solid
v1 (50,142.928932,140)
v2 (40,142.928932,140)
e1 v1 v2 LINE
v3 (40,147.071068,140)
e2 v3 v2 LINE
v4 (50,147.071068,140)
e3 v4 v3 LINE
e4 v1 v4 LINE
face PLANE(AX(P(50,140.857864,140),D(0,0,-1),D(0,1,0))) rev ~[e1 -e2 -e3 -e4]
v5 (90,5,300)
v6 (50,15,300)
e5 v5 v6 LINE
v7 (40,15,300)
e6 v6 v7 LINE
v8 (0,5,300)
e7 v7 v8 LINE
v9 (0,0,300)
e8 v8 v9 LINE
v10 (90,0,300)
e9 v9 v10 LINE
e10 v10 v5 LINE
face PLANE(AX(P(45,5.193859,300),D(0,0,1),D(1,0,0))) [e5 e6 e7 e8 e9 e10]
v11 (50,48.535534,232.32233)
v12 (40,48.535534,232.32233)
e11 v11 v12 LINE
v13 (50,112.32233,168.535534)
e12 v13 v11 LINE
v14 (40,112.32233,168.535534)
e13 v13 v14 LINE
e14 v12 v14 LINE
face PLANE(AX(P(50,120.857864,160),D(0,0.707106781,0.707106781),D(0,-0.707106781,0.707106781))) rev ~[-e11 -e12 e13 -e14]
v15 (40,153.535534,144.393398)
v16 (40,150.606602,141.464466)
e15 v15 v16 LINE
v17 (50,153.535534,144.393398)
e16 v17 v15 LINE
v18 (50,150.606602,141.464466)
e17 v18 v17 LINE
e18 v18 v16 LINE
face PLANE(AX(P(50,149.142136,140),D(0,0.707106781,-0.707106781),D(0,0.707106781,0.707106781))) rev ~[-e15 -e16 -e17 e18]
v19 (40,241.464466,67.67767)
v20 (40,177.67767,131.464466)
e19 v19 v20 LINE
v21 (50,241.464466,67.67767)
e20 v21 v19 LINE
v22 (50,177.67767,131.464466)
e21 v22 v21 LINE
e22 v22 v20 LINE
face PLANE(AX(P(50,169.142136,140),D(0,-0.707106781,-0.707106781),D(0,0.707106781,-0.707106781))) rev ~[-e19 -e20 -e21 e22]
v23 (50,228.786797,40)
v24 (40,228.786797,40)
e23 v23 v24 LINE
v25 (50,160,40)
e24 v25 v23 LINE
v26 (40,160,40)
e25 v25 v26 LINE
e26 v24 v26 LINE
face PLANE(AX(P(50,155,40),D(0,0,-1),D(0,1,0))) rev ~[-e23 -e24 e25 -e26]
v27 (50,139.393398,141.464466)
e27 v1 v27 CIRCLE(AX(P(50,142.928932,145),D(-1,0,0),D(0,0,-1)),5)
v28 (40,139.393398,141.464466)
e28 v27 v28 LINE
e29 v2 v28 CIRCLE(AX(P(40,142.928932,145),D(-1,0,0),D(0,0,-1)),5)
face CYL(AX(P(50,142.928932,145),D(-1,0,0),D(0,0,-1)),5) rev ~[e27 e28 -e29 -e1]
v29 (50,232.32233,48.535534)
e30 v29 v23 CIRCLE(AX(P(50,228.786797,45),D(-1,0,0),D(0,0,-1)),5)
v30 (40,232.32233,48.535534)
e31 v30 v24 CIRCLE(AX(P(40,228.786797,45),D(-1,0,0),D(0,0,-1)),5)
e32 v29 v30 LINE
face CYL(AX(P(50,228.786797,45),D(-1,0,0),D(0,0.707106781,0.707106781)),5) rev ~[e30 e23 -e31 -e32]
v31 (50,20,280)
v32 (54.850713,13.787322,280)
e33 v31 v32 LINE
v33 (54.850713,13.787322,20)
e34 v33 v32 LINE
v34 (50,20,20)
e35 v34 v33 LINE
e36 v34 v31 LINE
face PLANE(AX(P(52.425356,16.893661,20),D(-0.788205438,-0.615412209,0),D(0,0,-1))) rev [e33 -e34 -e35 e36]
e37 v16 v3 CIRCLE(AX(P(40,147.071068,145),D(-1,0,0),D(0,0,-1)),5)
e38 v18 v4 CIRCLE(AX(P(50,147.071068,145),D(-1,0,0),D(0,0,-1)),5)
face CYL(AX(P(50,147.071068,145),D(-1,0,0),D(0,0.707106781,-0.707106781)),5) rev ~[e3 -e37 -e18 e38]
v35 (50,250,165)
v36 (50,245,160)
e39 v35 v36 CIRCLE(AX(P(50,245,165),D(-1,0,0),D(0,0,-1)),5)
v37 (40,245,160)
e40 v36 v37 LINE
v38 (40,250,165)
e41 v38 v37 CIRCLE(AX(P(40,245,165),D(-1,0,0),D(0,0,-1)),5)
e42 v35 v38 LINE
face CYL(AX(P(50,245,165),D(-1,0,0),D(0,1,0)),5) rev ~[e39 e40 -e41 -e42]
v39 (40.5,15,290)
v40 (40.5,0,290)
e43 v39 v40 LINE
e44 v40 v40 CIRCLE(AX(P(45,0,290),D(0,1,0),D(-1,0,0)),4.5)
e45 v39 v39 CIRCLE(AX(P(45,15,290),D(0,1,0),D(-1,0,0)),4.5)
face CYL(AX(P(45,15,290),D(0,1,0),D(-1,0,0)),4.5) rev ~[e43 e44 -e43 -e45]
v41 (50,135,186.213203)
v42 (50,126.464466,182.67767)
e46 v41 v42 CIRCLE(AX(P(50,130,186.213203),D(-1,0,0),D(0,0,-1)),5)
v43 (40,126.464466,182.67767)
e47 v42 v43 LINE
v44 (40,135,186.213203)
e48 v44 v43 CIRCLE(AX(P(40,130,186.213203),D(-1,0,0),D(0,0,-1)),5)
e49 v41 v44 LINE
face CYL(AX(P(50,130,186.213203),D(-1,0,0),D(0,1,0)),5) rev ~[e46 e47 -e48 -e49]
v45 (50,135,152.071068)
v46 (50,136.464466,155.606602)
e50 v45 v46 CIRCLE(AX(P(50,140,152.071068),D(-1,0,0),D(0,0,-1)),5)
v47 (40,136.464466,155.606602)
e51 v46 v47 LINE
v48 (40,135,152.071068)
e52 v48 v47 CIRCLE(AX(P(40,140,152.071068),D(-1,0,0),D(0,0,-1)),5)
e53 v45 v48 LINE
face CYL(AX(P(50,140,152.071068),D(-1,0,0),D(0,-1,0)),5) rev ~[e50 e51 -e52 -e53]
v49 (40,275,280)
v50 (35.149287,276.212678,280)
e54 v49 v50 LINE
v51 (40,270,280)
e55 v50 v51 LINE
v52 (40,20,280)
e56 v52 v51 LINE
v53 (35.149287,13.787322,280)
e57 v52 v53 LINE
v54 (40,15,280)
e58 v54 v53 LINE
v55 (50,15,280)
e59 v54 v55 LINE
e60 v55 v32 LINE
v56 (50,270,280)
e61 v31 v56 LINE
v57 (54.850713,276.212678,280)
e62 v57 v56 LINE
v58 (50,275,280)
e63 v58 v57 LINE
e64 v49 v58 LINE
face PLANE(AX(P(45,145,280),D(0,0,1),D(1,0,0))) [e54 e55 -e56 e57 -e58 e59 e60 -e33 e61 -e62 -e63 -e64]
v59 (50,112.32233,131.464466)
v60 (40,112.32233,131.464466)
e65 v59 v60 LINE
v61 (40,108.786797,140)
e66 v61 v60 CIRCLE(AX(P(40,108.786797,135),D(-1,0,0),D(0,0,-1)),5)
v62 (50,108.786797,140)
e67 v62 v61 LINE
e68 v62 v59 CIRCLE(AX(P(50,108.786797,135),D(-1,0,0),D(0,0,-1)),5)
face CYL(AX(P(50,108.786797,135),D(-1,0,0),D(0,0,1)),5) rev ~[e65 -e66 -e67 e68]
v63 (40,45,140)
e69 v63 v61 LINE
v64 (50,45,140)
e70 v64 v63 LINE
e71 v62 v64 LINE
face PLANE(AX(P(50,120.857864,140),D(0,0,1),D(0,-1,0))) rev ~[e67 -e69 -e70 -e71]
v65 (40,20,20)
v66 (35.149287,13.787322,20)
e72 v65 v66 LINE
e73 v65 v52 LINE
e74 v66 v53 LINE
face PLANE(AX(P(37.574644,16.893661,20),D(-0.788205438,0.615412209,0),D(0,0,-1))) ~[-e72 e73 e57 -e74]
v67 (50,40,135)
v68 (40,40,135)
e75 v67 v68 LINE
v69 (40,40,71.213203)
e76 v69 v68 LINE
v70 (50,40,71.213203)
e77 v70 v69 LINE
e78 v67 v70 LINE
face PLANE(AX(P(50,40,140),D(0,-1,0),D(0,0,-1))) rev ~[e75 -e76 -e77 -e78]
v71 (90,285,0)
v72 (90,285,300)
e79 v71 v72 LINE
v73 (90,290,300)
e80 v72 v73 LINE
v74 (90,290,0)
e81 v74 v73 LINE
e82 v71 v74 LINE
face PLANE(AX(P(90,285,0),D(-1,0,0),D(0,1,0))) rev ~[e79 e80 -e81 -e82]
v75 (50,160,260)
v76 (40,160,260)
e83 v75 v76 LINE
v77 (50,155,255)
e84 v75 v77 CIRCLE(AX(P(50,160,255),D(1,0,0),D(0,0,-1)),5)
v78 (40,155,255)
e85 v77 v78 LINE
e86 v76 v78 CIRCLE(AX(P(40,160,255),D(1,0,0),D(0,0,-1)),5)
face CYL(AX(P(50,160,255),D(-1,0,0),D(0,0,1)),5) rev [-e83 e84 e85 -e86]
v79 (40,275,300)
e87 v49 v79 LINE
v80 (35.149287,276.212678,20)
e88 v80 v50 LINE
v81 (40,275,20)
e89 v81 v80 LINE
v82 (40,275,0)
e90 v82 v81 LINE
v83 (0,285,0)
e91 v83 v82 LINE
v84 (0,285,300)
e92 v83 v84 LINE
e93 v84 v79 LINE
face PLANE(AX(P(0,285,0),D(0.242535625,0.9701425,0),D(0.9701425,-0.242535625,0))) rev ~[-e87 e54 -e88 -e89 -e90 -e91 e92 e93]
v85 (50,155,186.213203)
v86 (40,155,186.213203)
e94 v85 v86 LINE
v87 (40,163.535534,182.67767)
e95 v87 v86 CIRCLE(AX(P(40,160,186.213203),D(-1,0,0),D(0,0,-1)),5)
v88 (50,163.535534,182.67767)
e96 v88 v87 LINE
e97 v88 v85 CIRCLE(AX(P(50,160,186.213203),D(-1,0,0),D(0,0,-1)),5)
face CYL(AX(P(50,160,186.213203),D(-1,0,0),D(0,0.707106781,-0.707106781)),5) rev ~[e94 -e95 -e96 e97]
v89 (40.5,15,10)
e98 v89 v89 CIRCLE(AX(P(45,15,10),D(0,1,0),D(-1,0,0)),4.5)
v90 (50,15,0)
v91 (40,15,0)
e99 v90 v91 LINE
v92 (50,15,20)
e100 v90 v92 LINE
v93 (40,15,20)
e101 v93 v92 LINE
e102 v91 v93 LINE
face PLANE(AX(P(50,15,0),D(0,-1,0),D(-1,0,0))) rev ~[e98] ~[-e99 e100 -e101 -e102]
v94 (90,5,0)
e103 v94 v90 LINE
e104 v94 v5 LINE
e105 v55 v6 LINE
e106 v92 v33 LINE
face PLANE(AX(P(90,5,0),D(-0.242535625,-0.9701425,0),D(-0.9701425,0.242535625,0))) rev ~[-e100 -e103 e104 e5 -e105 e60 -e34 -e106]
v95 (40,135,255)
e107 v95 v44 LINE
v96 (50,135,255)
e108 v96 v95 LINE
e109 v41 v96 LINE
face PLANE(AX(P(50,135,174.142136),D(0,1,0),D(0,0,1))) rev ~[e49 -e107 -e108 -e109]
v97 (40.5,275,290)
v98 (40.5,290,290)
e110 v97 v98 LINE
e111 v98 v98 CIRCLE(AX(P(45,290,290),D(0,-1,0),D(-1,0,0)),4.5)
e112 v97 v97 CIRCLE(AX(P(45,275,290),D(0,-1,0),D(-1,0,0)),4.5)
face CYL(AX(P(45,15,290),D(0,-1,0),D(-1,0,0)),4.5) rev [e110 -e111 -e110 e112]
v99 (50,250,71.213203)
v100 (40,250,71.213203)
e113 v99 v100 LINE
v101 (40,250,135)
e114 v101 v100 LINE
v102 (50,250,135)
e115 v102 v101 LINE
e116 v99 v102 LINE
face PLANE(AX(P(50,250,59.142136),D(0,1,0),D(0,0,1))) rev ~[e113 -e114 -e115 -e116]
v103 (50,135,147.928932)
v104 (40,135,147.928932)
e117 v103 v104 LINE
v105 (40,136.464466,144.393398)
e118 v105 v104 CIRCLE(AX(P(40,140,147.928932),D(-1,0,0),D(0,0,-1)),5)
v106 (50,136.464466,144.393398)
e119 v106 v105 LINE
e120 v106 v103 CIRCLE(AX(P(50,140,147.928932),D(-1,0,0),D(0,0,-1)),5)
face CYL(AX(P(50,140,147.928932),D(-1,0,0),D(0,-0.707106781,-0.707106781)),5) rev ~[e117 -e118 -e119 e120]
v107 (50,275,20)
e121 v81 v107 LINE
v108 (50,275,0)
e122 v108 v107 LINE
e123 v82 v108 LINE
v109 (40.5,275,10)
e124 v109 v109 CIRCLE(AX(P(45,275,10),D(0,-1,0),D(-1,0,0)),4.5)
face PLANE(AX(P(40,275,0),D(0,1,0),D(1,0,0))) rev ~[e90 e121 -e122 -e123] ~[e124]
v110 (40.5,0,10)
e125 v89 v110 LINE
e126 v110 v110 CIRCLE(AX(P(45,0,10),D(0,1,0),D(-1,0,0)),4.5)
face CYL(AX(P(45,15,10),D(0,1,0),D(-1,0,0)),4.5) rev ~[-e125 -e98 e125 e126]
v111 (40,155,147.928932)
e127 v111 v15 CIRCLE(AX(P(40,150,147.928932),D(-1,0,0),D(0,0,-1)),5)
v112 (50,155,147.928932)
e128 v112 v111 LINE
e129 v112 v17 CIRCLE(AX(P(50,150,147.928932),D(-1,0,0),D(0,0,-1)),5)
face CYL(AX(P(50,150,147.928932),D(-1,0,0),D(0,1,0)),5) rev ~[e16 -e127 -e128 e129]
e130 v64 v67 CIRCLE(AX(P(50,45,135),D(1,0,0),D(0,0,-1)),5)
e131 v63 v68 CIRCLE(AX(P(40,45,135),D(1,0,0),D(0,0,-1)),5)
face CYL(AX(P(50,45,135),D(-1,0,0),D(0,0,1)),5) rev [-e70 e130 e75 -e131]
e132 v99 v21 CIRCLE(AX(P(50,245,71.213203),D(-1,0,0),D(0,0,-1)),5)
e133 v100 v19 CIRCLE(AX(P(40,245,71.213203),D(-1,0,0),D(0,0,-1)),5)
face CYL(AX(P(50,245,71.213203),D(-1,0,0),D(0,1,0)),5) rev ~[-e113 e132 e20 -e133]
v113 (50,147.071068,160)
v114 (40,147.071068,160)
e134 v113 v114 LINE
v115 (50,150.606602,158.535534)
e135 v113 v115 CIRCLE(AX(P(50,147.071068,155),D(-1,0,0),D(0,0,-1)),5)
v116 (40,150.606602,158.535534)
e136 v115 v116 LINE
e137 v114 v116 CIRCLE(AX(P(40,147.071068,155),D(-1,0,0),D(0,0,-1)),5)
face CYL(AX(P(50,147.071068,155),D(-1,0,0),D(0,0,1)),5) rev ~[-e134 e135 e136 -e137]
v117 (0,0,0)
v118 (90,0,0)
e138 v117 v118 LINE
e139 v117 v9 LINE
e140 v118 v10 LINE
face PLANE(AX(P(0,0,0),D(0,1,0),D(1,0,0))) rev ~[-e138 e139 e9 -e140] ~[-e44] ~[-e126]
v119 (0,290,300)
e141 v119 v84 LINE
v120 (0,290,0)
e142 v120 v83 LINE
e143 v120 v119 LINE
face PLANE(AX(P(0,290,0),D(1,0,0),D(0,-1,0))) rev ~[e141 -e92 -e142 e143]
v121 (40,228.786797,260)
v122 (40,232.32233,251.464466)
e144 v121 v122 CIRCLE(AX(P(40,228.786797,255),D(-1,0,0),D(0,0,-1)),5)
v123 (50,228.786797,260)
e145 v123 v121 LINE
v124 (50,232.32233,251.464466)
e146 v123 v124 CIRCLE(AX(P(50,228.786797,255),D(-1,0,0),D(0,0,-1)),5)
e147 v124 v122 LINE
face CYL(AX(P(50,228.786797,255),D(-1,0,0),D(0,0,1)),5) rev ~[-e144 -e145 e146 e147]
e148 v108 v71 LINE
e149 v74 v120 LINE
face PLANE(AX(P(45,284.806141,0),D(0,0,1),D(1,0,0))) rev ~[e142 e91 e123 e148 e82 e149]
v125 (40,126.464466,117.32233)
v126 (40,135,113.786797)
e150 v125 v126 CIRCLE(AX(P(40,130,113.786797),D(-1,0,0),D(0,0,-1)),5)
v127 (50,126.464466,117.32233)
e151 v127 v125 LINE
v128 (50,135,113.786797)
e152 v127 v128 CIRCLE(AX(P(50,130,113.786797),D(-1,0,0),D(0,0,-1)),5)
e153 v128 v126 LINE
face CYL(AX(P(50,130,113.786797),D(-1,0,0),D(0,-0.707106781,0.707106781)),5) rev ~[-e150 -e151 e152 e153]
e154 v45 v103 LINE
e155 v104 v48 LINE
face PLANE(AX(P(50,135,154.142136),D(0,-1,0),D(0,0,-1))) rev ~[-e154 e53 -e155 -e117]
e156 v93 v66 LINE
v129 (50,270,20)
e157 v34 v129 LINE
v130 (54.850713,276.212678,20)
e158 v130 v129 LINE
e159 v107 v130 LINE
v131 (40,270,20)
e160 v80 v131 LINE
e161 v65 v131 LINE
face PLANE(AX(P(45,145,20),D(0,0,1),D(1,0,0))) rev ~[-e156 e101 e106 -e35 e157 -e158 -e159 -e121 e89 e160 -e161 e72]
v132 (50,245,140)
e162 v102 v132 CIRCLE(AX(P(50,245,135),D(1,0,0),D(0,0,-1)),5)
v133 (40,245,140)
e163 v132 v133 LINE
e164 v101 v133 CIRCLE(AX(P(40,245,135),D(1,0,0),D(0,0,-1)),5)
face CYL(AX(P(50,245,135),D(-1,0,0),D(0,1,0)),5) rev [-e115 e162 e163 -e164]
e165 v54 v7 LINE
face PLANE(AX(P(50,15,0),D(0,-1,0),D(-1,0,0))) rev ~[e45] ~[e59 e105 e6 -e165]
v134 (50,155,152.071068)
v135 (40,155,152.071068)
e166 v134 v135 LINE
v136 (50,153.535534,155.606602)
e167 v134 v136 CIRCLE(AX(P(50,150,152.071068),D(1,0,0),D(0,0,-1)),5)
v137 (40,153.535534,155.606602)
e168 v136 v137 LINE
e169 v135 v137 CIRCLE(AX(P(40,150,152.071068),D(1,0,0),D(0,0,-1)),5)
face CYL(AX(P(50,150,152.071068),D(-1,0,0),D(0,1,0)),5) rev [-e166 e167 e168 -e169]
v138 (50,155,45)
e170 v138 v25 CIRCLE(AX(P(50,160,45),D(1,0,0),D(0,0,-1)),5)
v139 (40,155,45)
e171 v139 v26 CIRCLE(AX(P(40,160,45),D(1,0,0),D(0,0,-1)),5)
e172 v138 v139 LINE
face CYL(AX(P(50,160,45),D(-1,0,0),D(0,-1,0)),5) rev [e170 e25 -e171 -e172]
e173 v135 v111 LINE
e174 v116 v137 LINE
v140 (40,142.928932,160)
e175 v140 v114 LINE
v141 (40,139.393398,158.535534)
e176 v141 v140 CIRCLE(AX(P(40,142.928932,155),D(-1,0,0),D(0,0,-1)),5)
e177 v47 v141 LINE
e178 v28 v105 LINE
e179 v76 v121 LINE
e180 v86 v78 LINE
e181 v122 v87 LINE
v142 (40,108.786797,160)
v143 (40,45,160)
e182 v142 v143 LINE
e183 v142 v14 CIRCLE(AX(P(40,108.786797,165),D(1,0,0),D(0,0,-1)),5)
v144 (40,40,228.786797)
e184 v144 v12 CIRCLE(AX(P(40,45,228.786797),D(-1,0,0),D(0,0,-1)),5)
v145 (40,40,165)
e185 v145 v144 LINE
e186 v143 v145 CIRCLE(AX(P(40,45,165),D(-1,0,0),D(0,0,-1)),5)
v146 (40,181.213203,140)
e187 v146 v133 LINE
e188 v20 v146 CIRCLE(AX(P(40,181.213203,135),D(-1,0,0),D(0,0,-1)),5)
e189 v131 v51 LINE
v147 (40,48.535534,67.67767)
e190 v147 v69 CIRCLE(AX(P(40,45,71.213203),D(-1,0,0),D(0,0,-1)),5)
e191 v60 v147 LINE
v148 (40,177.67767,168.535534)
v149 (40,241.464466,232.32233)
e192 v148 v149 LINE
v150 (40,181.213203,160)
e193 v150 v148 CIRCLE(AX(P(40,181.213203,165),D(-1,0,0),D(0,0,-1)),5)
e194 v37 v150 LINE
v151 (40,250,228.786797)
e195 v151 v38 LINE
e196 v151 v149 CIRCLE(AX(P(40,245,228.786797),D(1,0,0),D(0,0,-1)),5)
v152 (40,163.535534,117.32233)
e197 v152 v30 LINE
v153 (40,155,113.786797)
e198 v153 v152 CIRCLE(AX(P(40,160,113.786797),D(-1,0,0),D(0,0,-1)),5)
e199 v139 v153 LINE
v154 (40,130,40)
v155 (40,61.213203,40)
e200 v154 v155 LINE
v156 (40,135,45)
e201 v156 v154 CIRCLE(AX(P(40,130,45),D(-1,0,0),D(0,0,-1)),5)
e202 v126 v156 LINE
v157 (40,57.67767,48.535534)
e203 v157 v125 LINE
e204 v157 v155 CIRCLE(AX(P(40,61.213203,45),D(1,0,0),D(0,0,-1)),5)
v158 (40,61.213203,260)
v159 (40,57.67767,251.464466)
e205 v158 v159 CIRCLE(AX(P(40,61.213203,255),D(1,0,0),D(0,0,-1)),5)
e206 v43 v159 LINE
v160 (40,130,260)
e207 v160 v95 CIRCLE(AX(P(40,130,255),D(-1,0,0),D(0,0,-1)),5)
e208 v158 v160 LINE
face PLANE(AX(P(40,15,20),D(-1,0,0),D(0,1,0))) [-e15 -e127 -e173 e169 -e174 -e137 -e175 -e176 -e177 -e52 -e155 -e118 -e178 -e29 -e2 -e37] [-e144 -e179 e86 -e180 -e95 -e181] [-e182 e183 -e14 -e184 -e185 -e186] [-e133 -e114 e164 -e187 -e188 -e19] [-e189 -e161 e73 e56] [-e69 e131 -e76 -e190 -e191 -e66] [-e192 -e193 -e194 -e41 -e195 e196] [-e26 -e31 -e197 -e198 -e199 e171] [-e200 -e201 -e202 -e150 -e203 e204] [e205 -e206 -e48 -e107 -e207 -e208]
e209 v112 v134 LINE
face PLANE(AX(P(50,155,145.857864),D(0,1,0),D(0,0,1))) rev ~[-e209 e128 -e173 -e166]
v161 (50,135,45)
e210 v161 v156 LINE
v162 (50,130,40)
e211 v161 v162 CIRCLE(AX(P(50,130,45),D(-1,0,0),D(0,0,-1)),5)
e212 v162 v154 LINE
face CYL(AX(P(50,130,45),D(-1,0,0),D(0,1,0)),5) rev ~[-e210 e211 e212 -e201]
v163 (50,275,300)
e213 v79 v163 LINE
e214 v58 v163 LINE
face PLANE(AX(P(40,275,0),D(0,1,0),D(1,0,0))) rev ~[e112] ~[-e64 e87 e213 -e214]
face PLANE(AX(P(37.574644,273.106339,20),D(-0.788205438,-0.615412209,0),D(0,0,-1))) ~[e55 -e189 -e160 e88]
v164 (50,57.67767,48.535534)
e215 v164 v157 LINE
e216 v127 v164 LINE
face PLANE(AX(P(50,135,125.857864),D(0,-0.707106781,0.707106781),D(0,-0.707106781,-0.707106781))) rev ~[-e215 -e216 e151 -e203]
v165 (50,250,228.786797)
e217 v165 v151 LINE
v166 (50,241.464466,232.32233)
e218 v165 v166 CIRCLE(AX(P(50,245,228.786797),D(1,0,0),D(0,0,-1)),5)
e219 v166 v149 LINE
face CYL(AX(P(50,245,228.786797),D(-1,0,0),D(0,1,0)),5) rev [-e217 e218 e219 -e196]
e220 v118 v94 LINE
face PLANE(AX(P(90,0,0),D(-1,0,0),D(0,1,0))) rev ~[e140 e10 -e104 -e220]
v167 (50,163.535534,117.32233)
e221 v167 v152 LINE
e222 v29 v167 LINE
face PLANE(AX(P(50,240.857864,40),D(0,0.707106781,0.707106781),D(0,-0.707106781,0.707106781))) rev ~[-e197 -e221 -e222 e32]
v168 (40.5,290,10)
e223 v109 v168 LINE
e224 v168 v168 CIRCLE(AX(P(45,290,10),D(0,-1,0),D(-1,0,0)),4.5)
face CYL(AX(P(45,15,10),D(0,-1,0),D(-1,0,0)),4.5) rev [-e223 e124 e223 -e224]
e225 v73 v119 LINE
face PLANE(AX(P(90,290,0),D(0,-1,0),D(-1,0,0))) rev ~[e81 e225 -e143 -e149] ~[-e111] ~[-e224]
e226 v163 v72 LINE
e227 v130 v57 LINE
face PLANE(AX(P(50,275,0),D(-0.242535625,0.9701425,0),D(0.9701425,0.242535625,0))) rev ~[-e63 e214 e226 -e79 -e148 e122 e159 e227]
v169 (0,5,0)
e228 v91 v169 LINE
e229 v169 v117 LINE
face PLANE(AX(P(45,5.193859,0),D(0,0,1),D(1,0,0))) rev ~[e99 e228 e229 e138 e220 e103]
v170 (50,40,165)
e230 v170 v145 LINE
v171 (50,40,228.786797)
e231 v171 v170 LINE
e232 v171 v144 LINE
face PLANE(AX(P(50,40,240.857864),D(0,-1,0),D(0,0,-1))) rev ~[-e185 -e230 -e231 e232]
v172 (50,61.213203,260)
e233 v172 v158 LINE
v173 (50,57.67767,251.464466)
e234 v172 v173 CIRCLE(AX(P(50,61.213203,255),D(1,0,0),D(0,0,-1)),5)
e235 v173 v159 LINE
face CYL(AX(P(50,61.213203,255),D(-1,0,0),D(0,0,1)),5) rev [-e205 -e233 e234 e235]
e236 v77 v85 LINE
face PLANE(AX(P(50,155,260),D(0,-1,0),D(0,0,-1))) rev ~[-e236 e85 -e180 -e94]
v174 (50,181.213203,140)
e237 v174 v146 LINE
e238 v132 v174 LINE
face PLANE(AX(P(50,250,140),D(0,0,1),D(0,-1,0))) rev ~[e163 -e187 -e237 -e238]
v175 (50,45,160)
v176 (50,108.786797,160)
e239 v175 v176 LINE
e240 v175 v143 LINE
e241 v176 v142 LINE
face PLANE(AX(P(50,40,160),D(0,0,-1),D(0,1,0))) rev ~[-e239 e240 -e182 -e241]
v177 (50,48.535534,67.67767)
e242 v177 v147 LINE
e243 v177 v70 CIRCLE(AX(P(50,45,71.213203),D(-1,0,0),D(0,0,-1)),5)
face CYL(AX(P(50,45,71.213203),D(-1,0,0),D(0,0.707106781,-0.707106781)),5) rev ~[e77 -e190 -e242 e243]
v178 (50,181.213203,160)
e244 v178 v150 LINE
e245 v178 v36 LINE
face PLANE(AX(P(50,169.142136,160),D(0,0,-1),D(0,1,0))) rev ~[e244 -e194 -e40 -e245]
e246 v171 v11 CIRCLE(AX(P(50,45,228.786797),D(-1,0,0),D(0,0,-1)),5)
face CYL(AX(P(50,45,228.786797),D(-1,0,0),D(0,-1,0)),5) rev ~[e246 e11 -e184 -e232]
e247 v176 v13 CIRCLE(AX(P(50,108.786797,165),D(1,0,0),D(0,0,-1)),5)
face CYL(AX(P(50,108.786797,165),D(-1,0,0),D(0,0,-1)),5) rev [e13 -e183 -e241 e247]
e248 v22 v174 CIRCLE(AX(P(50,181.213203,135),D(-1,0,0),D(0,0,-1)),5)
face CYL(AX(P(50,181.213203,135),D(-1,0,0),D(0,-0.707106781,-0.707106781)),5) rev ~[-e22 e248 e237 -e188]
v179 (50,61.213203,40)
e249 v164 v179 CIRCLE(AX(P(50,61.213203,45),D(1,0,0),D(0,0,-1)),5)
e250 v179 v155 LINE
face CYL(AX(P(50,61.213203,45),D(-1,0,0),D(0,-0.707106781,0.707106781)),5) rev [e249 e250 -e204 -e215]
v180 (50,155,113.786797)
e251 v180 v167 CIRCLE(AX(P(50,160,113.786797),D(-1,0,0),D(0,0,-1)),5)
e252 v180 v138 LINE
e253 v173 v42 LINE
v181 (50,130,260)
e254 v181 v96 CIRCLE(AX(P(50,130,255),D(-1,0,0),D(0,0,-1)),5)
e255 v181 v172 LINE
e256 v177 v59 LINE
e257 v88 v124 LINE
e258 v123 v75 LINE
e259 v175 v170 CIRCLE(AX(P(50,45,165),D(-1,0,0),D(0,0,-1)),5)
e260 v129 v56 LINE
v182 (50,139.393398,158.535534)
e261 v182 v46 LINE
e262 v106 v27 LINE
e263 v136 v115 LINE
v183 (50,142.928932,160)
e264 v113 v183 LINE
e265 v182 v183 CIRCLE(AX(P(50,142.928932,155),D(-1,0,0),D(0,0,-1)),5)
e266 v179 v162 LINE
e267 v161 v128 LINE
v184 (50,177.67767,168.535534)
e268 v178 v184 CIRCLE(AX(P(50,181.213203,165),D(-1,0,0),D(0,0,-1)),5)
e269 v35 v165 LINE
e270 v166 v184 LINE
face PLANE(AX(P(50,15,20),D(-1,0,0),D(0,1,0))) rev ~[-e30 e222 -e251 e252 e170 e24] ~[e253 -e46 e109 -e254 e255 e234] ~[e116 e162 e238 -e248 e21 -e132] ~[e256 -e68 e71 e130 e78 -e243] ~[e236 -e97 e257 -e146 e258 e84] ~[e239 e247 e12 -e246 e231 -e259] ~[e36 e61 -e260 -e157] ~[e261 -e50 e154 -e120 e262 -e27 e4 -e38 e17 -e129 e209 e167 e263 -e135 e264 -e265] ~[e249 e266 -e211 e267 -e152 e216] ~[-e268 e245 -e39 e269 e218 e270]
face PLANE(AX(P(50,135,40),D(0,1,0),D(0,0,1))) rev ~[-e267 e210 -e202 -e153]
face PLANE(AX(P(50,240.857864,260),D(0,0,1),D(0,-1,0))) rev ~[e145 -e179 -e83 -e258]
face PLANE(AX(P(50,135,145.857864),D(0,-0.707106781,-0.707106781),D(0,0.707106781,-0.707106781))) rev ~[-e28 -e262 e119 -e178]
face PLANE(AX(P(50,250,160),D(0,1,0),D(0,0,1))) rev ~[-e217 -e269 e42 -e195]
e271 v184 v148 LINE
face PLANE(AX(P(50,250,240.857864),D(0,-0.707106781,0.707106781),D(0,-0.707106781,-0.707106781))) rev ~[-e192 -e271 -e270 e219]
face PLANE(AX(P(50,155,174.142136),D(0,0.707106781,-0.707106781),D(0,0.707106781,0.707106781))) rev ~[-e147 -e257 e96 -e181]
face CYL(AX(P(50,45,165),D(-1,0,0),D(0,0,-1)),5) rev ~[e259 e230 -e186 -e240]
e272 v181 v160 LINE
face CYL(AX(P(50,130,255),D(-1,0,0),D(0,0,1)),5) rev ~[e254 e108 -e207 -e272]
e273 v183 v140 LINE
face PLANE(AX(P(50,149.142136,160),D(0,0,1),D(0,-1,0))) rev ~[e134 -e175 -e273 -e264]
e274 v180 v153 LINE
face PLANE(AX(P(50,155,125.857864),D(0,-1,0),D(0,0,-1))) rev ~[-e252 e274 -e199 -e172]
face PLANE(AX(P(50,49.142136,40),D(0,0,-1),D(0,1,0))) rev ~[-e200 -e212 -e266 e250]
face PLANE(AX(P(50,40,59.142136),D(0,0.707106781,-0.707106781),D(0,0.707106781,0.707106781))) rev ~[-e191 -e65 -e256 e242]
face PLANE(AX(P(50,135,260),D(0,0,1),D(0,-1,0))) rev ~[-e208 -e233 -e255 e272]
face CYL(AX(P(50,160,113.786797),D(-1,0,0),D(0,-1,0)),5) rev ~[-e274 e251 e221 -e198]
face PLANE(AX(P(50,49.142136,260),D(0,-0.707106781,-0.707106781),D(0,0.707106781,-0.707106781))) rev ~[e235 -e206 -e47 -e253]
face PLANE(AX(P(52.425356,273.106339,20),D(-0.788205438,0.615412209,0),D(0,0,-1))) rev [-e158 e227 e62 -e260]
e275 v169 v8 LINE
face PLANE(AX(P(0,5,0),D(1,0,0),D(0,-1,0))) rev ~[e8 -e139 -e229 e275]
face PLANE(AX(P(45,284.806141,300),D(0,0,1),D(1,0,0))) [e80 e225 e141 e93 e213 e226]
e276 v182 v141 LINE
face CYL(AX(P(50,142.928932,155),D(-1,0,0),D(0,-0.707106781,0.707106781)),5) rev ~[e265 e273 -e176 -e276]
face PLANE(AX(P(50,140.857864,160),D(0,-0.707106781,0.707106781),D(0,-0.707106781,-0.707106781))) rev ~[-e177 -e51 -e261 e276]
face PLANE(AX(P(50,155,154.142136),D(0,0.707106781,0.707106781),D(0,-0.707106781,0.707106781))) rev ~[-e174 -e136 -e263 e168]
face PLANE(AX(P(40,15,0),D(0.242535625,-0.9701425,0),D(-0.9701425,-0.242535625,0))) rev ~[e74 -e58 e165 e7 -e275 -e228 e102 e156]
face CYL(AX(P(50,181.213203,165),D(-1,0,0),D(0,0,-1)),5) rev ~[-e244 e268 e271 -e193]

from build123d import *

# Parameters (mm, degrees)
F1_START      = 20
F0_W          = 10
F0_H          = 260
F1_DEPTH      = 260
F2_DEPTH      = 300
F3_R          = 4.5
F4_DEPTH      = 15.001
F4_DEPTH_BACK = 275.001
F5_SIZE       = 5
F7_DEPTH      = 50.001
F8_R          = 5


with BuildPart() as f1:
    # F0 (on Top) → F1 (new body)
    with BuildSketch(Plane.XY.offset(F1_START)):
        with Locations((45, 145)):
            Rectangle(F0_W, F0_H)
    extrude(amount=F1_DEPTH)

    # F0 (on Top) → F2 (join)
    with BuildSketch(Plane.XY):
        Polygon((45, 290), (0, 290), (0, 285), (40, 275), (50, 275), (90, 285), (90, 290), align=None)
        Polygon((50, 15), (40, 15), (0, 5), (0, 0), (45, 0), (90, 0), (90, 5), align=None)
    extrude(amount=F2_DEPTH)

    # F3 (on face) → F4 (cut, two sides)
    with BuildSketch(Plane(origin=(0, 15, 0), x_dir=(-1, 0, 0), z_dir=(0, 1, 0))) as f4_sk:
        with Locations((-45, 290)):
            Circle(F3_R)
        with Locations((-45, 10)):
            Circle(F3_R)
    extrude(amount=-F4_DEPTH, mode=Mode.SUBTRACT)
    extrude(f4_sk.sketch, amount=F4_DEPTH_BACK, mode=Mode.SUBTRACT)

    # F5
    f5_edges = [f1.edges().sort_by_distance(p)[0] for p in [
        (50, 275, 150),
        (40, 275, 150),
        (40, 15, 150),
        (50, 15, 150),
    ]]
    chamfer(f5_edges, length=F5_SIZE)

    # F6 (on face) → F7 (cut, through all)
    with BuildSketch(Plane.YZ.offset(50)):
        Polygon((135, 260), (49.1421356237, 260), (135, 174.1421356237), align=None)
        Polygon((240.8578643763, 260), (155, 260), (155, 174.1421356237), align=None)
        Polygon((250, 160), (250, 240.8578643763), (169.1421356237, 160), align=None)
        Polygon((250, 59.1421356237), (250, 140), (169.1421356237, 140), align=None)
        Polygon((155, 125.8578643763), (155, 40), (240.8578643763, 40), align=None)
        Polygon((135, 125.8578643763), (49.1421356237, 40), (135, 40), align=None)
        Polygon((120.8578643763, 140), (40, 140), (40, 59.1421356237), align=None)
        Polygon((40, 160), (120.8578643763, 160), (40, 240.8578643763), align=None)
        Polygon((155, 145.8578643763), (155, 154.1421356237), (149.1421356237, 160), (140.8578643763, 160), (135, 154.1421356237), (135, 145.8578643763), (140.8578643763, 140), (149.1421356237, 140), align=None)
    extrude(amount=-F7_DEPTH, mode=Mode.SUBTRACT)

    # F8
    f8_edges = [f1.edges().sort_by_distance(p)[0] for p in [
        (45, 240.857864, 260),
        (45, 155, 260),
        (45, 155, 174.142136),
        (45, 250, 240.857864),
        (45, 250, 160),
        (45, 169.142136, 160),
        (45, 250, 140),
        (45, 250, 59.142136),
        (45, 169.142136, 140),
        (45, 155, 125.857864),
        (45, 240.857864, 40),
        (45, 155, 40),
        (45, 135, 125.857864),
        (45, 135, 40),
        (45, 49.142136, 40),
        (45, 40, 59.142136),
        (45, 40, 140),
        (45, 120.857864, 140),
        (45, 40, 160),
        (45, 40, 240.857864),
        (45, 120.857864, 160),
        (45, 135, 174.142136),
        (45, 49.142136, 260),
        (45, 135, 260),
        (45, 135, 145.857864),
        (45, 135, 154.142136),
        (45, 140.857864, 160),
        (45, 149.142136, 160),
        (45, 155, 154.142136),
        (45, 155, 145.857864),
        (45, 149.142136, 140),
        (45, 140.857864, 140),
    ]]
    fillet(f8_edges, radius=F8_R)


solid = f1.part
